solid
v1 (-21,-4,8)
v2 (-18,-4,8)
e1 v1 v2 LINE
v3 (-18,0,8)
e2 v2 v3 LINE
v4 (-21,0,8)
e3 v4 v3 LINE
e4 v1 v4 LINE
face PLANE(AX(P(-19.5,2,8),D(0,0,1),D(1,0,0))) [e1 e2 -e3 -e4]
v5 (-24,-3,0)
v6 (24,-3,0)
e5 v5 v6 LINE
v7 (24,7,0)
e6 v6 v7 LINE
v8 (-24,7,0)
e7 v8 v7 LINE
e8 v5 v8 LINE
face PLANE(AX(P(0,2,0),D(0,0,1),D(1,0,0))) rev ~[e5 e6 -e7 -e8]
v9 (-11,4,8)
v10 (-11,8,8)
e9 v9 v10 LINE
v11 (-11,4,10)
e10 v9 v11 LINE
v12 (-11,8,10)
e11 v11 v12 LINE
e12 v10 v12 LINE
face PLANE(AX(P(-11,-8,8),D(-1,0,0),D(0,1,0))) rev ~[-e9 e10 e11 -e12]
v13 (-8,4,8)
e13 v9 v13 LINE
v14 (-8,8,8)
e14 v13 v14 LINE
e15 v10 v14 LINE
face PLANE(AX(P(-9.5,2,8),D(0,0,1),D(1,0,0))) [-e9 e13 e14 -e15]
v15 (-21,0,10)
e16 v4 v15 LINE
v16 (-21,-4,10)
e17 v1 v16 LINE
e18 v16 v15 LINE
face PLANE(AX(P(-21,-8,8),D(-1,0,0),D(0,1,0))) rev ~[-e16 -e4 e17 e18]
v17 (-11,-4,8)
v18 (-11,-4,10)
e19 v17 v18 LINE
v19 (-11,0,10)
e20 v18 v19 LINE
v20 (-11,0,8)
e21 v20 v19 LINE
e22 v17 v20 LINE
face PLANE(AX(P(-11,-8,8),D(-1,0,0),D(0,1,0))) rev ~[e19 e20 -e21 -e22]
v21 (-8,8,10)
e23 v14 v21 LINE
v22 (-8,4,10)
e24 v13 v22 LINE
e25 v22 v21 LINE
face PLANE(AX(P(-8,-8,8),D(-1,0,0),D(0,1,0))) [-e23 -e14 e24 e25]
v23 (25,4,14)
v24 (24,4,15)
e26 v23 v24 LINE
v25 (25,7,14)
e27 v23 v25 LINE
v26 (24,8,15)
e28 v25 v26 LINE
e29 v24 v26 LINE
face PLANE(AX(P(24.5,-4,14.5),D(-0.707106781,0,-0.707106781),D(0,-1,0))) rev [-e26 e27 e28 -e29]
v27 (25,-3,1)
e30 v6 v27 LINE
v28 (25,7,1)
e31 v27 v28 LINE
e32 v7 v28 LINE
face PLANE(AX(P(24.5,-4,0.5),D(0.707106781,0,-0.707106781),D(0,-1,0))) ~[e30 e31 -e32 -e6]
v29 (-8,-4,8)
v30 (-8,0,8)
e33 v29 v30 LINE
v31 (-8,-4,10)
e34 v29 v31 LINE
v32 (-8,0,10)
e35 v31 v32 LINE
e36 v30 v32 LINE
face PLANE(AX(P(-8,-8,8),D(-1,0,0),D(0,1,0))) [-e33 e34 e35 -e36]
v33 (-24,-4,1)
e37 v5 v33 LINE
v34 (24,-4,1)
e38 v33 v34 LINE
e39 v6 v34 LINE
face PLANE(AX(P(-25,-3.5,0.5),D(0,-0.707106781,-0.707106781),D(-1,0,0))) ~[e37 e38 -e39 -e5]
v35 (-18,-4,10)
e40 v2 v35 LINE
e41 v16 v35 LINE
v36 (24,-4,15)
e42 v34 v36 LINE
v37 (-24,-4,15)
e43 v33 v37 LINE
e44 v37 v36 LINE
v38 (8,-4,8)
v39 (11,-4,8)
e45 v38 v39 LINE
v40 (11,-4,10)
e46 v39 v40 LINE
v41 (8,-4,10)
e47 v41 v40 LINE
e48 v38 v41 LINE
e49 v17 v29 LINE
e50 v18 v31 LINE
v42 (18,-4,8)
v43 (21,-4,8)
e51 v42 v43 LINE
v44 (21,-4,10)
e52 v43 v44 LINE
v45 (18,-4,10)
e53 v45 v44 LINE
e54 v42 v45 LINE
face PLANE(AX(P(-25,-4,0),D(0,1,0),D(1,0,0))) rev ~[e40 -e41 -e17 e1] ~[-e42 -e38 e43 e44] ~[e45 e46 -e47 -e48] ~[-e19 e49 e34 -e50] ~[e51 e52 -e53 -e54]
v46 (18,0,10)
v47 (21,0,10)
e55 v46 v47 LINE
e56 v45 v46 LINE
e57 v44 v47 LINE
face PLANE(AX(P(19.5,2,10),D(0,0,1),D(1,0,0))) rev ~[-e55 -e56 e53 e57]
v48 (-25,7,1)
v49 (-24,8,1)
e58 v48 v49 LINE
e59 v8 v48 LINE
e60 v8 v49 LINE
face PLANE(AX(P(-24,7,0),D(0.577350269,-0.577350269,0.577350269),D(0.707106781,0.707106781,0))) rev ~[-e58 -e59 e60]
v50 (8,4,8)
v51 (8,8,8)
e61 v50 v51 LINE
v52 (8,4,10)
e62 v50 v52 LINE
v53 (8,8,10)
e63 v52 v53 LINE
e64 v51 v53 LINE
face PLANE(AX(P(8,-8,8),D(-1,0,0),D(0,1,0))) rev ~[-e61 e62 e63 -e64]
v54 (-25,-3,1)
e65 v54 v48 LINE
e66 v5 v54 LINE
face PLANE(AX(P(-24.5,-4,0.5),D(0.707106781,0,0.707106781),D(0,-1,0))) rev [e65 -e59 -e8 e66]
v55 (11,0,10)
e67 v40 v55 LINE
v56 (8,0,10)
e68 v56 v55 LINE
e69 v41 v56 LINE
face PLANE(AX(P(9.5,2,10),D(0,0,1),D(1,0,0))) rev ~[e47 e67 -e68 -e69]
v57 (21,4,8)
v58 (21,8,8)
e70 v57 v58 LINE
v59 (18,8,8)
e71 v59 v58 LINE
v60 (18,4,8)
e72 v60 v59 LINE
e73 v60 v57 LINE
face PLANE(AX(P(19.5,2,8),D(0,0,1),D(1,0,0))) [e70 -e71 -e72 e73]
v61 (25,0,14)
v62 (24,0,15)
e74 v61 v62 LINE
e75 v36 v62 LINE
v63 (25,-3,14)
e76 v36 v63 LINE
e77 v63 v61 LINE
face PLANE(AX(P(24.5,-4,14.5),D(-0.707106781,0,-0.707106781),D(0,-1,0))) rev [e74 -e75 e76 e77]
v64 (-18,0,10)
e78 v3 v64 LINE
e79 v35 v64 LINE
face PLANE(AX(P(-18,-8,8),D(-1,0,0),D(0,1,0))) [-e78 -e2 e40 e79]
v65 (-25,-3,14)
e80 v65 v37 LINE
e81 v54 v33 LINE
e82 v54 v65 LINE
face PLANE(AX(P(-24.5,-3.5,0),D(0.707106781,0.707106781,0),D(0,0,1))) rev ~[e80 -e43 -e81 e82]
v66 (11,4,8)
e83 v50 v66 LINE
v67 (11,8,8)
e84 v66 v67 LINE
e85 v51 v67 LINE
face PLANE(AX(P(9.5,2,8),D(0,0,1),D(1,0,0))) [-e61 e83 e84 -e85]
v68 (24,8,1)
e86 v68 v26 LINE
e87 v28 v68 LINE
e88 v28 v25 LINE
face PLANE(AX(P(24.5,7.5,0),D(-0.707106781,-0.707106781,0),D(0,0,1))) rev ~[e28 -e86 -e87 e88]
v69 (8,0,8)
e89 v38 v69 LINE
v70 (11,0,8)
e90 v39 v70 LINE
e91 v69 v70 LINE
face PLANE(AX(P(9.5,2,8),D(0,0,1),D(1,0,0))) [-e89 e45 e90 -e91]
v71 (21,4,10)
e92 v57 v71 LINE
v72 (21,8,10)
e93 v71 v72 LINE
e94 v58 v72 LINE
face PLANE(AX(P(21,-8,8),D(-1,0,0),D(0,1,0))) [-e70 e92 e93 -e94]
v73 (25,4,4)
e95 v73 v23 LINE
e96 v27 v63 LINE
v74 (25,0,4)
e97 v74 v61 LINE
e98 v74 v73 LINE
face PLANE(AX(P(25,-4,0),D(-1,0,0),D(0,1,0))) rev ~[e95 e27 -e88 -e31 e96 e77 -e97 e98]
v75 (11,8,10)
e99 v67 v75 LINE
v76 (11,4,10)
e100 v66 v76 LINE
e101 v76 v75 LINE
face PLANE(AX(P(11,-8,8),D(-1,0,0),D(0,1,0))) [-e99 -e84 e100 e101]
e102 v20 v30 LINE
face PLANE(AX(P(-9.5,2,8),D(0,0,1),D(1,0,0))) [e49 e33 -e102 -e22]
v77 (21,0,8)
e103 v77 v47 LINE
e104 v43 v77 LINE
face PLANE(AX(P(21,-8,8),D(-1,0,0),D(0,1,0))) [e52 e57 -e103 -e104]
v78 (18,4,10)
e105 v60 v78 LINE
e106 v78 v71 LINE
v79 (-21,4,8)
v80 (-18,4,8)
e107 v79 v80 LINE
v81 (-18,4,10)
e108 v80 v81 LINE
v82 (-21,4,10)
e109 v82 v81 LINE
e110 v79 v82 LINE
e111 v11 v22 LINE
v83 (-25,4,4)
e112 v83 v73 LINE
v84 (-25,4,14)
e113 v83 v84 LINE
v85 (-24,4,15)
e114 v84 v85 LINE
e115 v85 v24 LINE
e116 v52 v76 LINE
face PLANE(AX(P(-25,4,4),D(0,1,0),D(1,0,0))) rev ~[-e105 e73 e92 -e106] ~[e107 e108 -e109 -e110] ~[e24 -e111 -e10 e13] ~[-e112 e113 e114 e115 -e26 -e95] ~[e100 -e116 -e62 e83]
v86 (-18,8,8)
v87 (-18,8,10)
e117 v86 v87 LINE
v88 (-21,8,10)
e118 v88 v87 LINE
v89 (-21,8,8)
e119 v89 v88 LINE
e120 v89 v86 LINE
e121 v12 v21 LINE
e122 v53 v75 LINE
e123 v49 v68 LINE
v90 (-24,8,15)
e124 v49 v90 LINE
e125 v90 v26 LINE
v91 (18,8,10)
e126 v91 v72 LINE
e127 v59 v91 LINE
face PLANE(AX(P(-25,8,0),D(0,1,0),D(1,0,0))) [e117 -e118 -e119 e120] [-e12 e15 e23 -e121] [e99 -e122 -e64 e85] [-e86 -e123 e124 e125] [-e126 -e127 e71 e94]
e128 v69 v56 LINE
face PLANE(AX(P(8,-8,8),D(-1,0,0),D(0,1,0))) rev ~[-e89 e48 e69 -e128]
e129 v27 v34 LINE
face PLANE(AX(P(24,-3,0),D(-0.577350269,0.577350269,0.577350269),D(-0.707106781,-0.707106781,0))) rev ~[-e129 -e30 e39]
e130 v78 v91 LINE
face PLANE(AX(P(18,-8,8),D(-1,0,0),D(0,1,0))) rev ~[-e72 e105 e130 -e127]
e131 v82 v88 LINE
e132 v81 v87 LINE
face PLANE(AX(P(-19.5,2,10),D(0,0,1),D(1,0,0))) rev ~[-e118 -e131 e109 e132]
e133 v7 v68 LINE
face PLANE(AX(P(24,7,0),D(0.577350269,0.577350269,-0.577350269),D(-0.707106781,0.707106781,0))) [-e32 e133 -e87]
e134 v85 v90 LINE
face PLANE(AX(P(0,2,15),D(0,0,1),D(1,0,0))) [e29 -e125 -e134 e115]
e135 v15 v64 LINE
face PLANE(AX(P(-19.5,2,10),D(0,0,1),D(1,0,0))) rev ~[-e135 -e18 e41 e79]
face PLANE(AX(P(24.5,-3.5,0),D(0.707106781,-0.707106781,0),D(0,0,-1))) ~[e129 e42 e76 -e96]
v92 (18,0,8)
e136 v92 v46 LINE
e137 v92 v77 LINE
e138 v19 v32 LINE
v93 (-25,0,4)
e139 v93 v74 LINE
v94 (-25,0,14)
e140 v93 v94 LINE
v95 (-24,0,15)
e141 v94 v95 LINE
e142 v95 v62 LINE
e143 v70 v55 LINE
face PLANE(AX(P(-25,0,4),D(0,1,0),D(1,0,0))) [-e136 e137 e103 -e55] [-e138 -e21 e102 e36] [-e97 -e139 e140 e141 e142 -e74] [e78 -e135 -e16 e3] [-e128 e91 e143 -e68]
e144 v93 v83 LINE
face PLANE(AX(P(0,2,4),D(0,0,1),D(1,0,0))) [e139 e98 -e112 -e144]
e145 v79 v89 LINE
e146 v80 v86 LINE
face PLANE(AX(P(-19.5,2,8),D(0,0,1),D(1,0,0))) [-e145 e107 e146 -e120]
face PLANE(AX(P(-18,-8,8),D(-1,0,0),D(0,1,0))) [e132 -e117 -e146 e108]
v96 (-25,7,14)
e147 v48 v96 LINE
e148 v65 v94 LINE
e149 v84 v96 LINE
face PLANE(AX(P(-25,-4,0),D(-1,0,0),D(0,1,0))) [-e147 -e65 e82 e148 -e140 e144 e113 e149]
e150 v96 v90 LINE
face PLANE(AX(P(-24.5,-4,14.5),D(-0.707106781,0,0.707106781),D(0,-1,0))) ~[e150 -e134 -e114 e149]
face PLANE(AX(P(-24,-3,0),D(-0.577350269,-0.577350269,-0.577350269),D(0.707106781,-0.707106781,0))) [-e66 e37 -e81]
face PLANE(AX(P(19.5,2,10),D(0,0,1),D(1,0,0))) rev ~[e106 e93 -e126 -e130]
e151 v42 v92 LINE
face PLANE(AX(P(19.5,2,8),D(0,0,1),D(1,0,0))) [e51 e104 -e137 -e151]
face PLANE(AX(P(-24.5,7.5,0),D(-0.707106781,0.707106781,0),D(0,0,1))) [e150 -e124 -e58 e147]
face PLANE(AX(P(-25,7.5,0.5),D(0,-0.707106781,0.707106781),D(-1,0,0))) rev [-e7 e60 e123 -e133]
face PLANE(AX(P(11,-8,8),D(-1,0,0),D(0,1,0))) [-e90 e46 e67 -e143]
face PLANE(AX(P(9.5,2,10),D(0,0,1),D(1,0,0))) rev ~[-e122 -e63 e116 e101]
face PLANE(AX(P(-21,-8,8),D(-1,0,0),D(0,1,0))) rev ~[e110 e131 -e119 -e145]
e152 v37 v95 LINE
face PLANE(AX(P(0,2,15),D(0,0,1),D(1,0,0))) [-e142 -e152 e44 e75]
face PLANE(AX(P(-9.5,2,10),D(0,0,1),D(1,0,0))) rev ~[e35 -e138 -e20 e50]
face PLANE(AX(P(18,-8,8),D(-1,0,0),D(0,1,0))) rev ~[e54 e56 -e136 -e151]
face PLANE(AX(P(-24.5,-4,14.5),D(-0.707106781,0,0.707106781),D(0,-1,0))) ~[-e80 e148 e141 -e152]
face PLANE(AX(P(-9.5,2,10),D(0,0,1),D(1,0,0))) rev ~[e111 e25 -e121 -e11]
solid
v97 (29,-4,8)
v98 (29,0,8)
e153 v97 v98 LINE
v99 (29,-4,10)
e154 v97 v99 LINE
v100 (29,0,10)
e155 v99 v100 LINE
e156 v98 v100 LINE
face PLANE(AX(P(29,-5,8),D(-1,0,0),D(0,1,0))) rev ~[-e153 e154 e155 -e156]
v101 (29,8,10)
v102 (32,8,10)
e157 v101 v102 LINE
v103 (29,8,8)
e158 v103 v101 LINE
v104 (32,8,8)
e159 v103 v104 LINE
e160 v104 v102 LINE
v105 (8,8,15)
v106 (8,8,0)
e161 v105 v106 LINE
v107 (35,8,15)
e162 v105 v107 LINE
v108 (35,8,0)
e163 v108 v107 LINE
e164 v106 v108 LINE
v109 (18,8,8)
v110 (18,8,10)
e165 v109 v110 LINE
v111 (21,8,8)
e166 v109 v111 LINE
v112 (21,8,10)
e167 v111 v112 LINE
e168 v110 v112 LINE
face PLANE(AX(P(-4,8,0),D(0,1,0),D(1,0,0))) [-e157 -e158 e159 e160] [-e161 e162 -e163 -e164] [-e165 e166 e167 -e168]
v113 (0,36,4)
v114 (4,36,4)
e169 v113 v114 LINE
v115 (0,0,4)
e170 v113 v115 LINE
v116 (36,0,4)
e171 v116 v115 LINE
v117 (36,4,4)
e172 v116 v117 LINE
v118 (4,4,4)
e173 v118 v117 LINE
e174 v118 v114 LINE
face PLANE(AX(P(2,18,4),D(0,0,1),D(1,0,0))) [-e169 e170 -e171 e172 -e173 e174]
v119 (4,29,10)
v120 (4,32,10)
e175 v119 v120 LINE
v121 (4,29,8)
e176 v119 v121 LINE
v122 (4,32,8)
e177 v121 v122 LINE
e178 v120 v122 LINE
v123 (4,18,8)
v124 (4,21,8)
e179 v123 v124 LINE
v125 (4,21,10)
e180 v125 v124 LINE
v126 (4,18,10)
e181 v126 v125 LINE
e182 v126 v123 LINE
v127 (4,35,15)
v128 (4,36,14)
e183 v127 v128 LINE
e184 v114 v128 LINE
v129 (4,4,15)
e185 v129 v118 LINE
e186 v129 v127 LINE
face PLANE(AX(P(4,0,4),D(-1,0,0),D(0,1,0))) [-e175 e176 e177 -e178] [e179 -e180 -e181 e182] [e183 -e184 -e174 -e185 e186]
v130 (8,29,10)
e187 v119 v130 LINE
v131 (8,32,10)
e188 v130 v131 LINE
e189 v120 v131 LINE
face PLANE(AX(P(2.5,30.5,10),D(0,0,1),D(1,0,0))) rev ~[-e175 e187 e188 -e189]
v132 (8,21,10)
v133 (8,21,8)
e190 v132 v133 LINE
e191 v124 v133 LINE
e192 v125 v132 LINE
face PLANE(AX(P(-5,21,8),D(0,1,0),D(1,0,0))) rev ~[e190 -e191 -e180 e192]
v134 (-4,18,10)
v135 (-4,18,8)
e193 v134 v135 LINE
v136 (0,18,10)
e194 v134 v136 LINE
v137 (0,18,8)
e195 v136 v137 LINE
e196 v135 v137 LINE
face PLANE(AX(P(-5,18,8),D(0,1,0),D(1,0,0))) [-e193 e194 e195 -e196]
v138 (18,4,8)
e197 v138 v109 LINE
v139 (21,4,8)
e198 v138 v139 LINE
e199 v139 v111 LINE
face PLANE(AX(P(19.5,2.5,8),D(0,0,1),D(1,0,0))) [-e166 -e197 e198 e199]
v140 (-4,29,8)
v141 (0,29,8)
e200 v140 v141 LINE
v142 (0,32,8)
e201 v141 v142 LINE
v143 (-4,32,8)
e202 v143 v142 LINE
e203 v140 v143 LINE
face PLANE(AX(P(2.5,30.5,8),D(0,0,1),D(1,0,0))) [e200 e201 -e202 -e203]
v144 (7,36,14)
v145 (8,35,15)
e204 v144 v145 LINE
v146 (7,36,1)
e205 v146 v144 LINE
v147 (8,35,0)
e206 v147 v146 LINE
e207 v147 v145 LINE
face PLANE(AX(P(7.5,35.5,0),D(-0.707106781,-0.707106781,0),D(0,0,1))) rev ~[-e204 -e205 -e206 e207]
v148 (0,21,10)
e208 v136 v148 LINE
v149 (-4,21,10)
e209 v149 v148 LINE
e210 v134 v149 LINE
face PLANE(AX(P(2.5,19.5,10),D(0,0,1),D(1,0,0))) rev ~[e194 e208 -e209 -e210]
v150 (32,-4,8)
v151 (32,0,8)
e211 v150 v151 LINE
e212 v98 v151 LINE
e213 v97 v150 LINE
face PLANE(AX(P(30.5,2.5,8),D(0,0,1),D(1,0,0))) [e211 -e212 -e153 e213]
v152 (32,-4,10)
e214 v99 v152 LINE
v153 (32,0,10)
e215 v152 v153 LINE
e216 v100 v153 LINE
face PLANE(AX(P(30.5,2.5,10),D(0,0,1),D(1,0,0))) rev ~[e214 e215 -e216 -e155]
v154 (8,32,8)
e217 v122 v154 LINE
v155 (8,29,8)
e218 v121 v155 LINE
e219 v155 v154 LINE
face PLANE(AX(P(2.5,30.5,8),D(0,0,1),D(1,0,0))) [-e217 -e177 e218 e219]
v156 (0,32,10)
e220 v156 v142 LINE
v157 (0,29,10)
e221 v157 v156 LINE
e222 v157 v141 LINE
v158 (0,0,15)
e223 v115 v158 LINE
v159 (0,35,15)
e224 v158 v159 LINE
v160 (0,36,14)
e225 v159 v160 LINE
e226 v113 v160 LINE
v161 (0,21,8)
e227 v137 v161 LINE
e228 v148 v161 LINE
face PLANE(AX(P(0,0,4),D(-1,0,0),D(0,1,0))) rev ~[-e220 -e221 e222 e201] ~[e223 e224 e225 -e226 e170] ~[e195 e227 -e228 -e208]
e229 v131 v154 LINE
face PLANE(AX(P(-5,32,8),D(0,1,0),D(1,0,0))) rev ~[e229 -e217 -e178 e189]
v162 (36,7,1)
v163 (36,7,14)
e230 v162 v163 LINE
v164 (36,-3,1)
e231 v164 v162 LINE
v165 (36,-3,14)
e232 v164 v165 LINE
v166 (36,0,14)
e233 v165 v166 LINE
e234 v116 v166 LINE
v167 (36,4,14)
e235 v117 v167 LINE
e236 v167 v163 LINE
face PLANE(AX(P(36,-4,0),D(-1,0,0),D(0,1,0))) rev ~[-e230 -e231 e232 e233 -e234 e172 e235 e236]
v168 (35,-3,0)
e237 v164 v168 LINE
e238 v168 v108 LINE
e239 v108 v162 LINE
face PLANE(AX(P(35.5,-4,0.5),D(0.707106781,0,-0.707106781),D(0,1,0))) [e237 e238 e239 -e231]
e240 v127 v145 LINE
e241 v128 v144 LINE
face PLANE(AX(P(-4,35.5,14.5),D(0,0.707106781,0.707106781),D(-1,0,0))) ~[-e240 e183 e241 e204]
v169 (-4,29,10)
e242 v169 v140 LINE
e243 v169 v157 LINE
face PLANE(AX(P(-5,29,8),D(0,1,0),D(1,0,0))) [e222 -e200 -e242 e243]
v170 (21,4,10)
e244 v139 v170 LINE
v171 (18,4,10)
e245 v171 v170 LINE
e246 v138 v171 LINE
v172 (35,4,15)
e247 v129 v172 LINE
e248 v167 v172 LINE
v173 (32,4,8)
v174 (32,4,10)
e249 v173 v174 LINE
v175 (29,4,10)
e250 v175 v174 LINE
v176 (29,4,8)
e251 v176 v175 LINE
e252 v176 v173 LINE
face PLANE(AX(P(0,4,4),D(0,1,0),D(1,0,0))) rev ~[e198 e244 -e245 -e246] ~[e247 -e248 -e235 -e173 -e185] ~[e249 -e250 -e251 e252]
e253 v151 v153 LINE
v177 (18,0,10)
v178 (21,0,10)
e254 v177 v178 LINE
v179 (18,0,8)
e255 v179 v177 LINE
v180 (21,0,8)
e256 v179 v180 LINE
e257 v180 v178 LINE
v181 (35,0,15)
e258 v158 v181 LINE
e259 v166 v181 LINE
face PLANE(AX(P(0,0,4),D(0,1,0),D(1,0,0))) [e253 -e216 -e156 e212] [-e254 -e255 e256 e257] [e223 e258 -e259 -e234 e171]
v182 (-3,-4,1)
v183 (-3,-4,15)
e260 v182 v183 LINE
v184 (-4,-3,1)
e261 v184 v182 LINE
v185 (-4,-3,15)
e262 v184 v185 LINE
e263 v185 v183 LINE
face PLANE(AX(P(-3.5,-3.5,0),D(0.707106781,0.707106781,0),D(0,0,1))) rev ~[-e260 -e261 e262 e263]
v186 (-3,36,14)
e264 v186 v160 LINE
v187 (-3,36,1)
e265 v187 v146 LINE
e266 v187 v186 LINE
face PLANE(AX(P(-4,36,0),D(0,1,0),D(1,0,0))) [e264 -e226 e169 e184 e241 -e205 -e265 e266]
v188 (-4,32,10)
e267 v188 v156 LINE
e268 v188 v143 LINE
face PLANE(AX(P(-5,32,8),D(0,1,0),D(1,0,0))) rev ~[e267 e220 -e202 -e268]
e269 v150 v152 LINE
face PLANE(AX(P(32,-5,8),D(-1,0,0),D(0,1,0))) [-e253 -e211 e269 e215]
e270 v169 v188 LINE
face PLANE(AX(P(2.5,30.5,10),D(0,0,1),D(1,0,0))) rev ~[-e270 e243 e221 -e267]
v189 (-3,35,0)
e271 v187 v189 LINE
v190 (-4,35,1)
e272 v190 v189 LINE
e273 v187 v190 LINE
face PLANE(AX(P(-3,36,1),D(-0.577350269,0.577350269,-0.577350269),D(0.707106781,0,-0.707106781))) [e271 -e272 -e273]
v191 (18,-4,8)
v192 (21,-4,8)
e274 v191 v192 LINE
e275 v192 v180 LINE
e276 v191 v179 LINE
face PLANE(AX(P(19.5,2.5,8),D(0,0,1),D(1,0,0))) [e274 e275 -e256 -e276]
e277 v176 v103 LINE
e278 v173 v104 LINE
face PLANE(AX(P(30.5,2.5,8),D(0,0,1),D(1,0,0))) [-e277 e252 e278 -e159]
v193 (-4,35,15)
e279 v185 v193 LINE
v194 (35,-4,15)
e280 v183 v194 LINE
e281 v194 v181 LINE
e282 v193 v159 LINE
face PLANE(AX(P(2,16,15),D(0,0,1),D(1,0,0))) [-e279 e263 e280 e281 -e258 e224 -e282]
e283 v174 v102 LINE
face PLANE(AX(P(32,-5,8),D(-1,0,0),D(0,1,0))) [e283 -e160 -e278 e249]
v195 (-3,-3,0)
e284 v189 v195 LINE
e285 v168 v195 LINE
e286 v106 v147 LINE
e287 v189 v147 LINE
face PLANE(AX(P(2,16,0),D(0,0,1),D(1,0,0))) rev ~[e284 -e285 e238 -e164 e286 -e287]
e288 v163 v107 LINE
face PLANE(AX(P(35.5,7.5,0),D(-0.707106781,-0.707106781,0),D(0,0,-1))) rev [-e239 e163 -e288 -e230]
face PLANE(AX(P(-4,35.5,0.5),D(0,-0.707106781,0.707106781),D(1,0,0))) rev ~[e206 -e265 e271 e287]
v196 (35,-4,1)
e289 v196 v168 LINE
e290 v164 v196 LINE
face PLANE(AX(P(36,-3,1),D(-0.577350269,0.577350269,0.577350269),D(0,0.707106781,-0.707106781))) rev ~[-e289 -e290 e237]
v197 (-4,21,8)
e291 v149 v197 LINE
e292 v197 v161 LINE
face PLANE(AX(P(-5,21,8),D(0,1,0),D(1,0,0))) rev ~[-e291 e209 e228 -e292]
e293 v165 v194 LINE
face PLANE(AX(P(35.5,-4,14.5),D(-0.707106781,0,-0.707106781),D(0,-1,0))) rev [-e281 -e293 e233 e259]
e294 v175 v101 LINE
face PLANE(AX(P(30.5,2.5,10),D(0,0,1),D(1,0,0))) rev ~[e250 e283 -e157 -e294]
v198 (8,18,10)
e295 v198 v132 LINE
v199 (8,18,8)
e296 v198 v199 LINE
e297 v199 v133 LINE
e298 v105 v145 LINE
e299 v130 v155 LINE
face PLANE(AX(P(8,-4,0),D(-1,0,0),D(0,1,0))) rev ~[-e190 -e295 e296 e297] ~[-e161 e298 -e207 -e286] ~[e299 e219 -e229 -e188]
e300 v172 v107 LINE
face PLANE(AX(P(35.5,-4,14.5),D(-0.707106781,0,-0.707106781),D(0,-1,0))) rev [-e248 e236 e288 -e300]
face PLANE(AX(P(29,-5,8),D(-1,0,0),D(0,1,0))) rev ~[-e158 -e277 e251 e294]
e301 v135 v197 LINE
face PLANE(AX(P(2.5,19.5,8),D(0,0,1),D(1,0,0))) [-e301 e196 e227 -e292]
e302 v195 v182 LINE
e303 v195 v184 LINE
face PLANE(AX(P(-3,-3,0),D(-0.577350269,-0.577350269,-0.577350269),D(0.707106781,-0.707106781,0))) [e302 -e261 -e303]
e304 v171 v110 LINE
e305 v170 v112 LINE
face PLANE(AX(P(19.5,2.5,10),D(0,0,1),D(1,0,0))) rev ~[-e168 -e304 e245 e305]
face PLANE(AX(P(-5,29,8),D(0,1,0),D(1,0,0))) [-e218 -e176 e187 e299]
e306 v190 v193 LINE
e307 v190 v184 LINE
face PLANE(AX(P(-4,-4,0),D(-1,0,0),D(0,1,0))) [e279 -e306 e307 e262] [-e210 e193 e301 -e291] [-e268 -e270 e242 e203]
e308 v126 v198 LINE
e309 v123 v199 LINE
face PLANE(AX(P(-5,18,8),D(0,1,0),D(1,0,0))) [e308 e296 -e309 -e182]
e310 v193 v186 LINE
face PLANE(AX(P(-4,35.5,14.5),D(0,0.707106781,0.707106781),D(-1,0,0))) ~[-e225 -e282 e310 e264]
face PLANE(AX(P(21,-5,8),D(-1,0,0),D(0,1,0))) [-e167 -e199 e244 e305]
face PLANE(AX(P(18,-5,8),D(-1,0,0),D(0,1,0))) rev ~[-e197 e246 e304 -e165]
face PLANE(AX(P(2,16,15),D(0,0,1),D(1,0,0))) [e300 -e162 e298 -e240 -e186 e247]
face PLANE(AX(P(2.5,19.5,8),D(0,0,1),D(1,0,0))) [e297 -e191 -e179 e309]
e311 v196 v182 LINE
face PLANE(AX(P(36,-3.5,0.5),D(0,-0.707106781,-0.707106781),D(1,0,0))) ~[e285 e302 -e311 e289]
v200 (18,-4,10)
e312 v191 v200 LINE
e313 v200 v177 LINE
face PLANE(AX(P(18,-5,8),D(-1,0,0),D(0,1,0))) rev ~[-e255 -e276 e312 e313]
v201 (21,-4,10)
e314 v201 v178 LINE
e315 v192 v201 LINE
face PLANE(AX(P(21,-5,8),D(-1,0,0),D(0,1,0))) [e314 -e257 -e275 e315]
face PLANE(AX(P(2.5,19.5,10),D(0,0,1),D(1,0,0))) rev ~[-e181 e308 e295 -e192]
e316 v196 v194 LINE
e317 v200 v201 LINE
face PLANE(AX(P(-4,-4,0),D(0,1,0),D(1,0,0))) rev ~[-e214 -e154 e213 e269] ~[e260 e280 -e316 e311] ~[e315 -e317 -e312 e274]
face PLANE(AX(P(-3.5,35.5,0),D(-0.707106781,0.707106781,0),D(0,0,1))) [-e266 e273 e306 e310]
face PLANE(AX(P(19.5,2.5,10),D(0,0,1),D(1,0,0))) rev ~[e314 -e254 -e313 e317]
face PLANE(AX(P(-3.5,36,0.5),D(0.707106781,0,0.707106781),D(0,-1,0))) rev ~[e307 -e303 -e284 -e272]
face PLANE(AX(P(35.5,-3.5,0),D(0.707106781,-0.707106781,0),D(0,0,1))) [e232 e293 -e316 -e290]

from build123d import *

# Parameters (mm, degrees)
BOX010_W        = 3
BOX010_H        = 20
BOX010_DEPTH    = 2
BOX009_W        = 3
BOX009_H        = 20
BOX009_DEPTH    = 2
BOX008_W        = 3
BOX008_H        = 20
BOX008_DEPTH    = 2
BOX011_W        = 3
BOX011_H        = 20
BOX011_DEPTH    = 2
BOX006_W        = 50
BOX006_H        = 4
BOX006_DEPTH    = 11
BOX007_W        = 50
BOX007_H        = 12
BOX007_DEPTH    = 15
CHAMFER001_SIZE = 1
BOX012_W        = 15
BOX012_H        = 3
BOX012_DEPTH    = 2
BOX004_W        = 15
BOX004_H        = 3
BOX004_DEPTH    = 2
BOX005_W        = 3
BOX005_H        = 15
BOX005_DEPTH    = 2
BOX013_W        = 3
BOX013_H        = 15
BOX013_DEPTH    = 2
BOX_W           = 36
BOX_H           = 4
BOX_DEPTH       = 11
BOX001_W        = 4
BOX001_H        = 36
BOX001_DEPTH    = 11
BOX003_W        = 40
BOX003_H        = 12
BOX003_DEPTH    = 15
BOX002_W        = 12
BOX002_H        = 40
BOX002_DEPTH    = 15
CHAMFER_SIZE    = 1


with BuildPart() as cube010:
    # Box010 → Box010 (new body)
    with BuildSketch(Plane(origin=(-11, -8, 0), x_dir=(1, 0, 0), z_dir=(0, 0, 1))):
        with Locations((1.5, 10)):
            Rectangle(BOX010_W, BOX010_H)
    extrude(amount=BOX010_DEPTH)


with BuildPart() as cube009:
    # Box009 → Box009 (new body)
    with BuildSketch(Plane(origin=(-21, -8, 0), x_dir=(1, 0, 0), z_dir=(0, 0, 1))):
        with Locations((1.5, 10)):
            Rectangle(BOX009_W, BOX009_H)
    extrude(amount=BOX009_DEPTH)


with BuildPart() as cube008:
    # Box008 → Box008 (new body)
    with BuildSketch(Plane(origin=(18, -8, 0), x_dir=(1, 0, 0), z_dir=(0, 0, 1))):
        with Locations((1.5, 10)):
            Rectangle(BOX008_W, BOX008_H)
    extrude(amount=BOX008_DEPTH)


with BuildPart() as fusion003:
    # Box011 → Box011 (new body)
    with BuildSketch(Plane(origin=(8, -8, 0), x_dir=(1, 0, 0), z_dir=(0, 0, 1))):
        with Locations((1.5, 10)):
            Rectangle(BOX011_W, BOX011_H)
    extrude(amount=BOX011_DEPTH)

    # Fusion003: union Cube010, Cube009, Cube008
    add(cube010.part)
    add(cube009.part)
    add(cube008.part)


with BuildPart() as fusion003_1:
    # Fusion003 placement: moved
    add(fusion003.part.moved(Location((0, 0, 8))))


with BuildPart() as cube006:
    # Box006 → Box006 (new body)
    with BuildSketch(Plane.XY.offset(4)):
        with Locations((25, 2)):
            Rectangle(BOX006_W, BOX006_H)
    extrude(amount=BOX006_DEPTH)


with BuildPart() as cut003:
    # Box007 → Box007 (new body)
    with BuildSketch(Plane(origin=(0, -4, 0), x_dir=(1, 0, 0), z_dir=(0, 0, 1))):
        with Locations((25, 6)):
            Rectangle(BOX007_W, BOX007_H)
    extrude(amount=BOX007_DEPTH)

    # Chamfer001
    chamfer001_edges = [cut003.edges().sort_by_distance(p)[0] for p in [
        (0, -4, 7.5),
        (0, 2, 15),
        (0, 8, 7.5),
        (0, 2, 0),
        (50, -4, 7.5),
        (50, 2, 15),
        (50, 8, 7.5),
        (50, 2, 0),
        (25, -4, 0),
        (25, 8, 0),
    ]]
    chamfer(chamfer001_edges, length=CHAMFER001_SIZE)

    # Cut002: cut Cube006
    add(cube006.part, mode=Mode.SUBTRACT)


with BuildPart() as cut003_1:
    # Cut002 placement: moved
    add(cut003.part.moved(Location((-25, 0, 0))))

    # Cut003: cut Fusion003
    add(fusion003_1.part, mode=Mode.SUBTRACT)


with BuildPart() as cube012:
    # Box012 → Box012 (new body)
    with BuildSketch(Plane(origin=(-5, 29, 8), x_dir=(1, 0, 0), z_dir=(0, 0, 1))):
        with Locations((7.5, 1.5)):
            Rectangle(BOX012_W, BOX012_H)
    extrude(amount=BOX012_DEPTH)


with BuildPart() as cube004:
    # Box004 → Box004 (new body)
    with BuildSketch(Plane(origin=(-5, 18, 8), x_dir=(1, 0, 0), z_dir=(0, 0, 1))):
        with Locations((7.5, 1.5)):
            Rectangle(BOX004_W, BOX004_H)
    extrude(amount=BOX004_DEPTH)


with BuildPart() as cube005:
    # Box005 → Box005 (new body)
    with BuildSketch(Plane(origin=(18, -5, 8), x_dir=(1, 0, 0), z_dir=(0, 0, 1))):
        with Locations((1.5, 7.5)):
            Rectangle(BOX005_W, BOX005_H)
    extrude(amount=BOX005_DEPTH)


with BuildPart() as fusion005:
    # Box013 → Box013 (new body)
    with BuildSketch(Plane(origin=(29, -5, 8), x_dir=(1, 0, 0), z_dir=(0, 0, 1))):
        with Locations((1.5, 7.5)):
            Rectangle(BOX013_W, BOX013_H)
    extrude(amount=BOX013_DEPTH)

    # Fusion005: union Cube012, Cube004, Cube005
    add(cube012.part)
    add(cube004.part)
    add(cube005.part)


with BuildPart() as cube:
    # Box → Box (new body)
    with BuildSketch(Plane.XY.offset(4)):
        with Locations((18, 2)):
            Rectangle(BOX_W, BOX_H)
    extrude(amount=BOX_DEPTH)


with BuildPart() as fusion:
    # Box001 → Box001 (new body)
    with BuildSketch(Plane.XY.offset(4)):
        with Locations((2, 18)):
            Rectangle(BOX001_W, BOX001_H)
    extrude(amount=BOX001_DEPTH)

    # Fusion: union Cube
    add(cube.part)


with BuildPart() as cube003:
    # Box003 → Box003 (new body)
    with BuildSketch(Plane(origin=(-4, -4, 0), x_dir=(1, 0, 0), z_dir=(0, 0, 1))):
        with Locations((20, 6)):
            Rectangle(BOX003_W, BOX003_H)
    extrude(amount=BOX003_DEPTH)


with BuildPart() as cut004:
    # Box002 → Box002 (new body)
    with BuildSketch(Plane(origin=(-4, -4, 0), x_dir=(1, 0, 0), z_dir=(0, 0, 1))):
        with Locations((6, 20)):
            Rectangle(BOX002_W, BOX002_H)
    extrude(amount=BOX002_DEPTH)

    # Fusion004: union Cube003
    add(cube003.part)

    # Chamfer
    chamfer_edges = [cut004.edges().sort_by_distance(p)[0] for p in [
        (-4, -4, 7.5),
        (-4, 2, 0),
        (2, -4, 0),
        (-4, 36, 7.5),
        (-4, 22, 0),
        (22, -4, 0),
        (36, -4, 7.5),
        (2, 36, 15),
        (36, 2, 15),
        (2, 36, 0),
        (8, 36, 7.5),
        (36, 2, 0),
        (36, 8, 7.5),
    ]]
    chamfer(chamfer_edges, length=CHAMFER_SIZE)

    # Cut: cut Fusion
    add(fusion.part, mode=Mode.SUBTRACT)

    # Cut004: cut Fusion005
    add(fusion005.part, mode=Mode.SUBTRACT)


solid = Compound([cut003_1.part, cut004.part])
